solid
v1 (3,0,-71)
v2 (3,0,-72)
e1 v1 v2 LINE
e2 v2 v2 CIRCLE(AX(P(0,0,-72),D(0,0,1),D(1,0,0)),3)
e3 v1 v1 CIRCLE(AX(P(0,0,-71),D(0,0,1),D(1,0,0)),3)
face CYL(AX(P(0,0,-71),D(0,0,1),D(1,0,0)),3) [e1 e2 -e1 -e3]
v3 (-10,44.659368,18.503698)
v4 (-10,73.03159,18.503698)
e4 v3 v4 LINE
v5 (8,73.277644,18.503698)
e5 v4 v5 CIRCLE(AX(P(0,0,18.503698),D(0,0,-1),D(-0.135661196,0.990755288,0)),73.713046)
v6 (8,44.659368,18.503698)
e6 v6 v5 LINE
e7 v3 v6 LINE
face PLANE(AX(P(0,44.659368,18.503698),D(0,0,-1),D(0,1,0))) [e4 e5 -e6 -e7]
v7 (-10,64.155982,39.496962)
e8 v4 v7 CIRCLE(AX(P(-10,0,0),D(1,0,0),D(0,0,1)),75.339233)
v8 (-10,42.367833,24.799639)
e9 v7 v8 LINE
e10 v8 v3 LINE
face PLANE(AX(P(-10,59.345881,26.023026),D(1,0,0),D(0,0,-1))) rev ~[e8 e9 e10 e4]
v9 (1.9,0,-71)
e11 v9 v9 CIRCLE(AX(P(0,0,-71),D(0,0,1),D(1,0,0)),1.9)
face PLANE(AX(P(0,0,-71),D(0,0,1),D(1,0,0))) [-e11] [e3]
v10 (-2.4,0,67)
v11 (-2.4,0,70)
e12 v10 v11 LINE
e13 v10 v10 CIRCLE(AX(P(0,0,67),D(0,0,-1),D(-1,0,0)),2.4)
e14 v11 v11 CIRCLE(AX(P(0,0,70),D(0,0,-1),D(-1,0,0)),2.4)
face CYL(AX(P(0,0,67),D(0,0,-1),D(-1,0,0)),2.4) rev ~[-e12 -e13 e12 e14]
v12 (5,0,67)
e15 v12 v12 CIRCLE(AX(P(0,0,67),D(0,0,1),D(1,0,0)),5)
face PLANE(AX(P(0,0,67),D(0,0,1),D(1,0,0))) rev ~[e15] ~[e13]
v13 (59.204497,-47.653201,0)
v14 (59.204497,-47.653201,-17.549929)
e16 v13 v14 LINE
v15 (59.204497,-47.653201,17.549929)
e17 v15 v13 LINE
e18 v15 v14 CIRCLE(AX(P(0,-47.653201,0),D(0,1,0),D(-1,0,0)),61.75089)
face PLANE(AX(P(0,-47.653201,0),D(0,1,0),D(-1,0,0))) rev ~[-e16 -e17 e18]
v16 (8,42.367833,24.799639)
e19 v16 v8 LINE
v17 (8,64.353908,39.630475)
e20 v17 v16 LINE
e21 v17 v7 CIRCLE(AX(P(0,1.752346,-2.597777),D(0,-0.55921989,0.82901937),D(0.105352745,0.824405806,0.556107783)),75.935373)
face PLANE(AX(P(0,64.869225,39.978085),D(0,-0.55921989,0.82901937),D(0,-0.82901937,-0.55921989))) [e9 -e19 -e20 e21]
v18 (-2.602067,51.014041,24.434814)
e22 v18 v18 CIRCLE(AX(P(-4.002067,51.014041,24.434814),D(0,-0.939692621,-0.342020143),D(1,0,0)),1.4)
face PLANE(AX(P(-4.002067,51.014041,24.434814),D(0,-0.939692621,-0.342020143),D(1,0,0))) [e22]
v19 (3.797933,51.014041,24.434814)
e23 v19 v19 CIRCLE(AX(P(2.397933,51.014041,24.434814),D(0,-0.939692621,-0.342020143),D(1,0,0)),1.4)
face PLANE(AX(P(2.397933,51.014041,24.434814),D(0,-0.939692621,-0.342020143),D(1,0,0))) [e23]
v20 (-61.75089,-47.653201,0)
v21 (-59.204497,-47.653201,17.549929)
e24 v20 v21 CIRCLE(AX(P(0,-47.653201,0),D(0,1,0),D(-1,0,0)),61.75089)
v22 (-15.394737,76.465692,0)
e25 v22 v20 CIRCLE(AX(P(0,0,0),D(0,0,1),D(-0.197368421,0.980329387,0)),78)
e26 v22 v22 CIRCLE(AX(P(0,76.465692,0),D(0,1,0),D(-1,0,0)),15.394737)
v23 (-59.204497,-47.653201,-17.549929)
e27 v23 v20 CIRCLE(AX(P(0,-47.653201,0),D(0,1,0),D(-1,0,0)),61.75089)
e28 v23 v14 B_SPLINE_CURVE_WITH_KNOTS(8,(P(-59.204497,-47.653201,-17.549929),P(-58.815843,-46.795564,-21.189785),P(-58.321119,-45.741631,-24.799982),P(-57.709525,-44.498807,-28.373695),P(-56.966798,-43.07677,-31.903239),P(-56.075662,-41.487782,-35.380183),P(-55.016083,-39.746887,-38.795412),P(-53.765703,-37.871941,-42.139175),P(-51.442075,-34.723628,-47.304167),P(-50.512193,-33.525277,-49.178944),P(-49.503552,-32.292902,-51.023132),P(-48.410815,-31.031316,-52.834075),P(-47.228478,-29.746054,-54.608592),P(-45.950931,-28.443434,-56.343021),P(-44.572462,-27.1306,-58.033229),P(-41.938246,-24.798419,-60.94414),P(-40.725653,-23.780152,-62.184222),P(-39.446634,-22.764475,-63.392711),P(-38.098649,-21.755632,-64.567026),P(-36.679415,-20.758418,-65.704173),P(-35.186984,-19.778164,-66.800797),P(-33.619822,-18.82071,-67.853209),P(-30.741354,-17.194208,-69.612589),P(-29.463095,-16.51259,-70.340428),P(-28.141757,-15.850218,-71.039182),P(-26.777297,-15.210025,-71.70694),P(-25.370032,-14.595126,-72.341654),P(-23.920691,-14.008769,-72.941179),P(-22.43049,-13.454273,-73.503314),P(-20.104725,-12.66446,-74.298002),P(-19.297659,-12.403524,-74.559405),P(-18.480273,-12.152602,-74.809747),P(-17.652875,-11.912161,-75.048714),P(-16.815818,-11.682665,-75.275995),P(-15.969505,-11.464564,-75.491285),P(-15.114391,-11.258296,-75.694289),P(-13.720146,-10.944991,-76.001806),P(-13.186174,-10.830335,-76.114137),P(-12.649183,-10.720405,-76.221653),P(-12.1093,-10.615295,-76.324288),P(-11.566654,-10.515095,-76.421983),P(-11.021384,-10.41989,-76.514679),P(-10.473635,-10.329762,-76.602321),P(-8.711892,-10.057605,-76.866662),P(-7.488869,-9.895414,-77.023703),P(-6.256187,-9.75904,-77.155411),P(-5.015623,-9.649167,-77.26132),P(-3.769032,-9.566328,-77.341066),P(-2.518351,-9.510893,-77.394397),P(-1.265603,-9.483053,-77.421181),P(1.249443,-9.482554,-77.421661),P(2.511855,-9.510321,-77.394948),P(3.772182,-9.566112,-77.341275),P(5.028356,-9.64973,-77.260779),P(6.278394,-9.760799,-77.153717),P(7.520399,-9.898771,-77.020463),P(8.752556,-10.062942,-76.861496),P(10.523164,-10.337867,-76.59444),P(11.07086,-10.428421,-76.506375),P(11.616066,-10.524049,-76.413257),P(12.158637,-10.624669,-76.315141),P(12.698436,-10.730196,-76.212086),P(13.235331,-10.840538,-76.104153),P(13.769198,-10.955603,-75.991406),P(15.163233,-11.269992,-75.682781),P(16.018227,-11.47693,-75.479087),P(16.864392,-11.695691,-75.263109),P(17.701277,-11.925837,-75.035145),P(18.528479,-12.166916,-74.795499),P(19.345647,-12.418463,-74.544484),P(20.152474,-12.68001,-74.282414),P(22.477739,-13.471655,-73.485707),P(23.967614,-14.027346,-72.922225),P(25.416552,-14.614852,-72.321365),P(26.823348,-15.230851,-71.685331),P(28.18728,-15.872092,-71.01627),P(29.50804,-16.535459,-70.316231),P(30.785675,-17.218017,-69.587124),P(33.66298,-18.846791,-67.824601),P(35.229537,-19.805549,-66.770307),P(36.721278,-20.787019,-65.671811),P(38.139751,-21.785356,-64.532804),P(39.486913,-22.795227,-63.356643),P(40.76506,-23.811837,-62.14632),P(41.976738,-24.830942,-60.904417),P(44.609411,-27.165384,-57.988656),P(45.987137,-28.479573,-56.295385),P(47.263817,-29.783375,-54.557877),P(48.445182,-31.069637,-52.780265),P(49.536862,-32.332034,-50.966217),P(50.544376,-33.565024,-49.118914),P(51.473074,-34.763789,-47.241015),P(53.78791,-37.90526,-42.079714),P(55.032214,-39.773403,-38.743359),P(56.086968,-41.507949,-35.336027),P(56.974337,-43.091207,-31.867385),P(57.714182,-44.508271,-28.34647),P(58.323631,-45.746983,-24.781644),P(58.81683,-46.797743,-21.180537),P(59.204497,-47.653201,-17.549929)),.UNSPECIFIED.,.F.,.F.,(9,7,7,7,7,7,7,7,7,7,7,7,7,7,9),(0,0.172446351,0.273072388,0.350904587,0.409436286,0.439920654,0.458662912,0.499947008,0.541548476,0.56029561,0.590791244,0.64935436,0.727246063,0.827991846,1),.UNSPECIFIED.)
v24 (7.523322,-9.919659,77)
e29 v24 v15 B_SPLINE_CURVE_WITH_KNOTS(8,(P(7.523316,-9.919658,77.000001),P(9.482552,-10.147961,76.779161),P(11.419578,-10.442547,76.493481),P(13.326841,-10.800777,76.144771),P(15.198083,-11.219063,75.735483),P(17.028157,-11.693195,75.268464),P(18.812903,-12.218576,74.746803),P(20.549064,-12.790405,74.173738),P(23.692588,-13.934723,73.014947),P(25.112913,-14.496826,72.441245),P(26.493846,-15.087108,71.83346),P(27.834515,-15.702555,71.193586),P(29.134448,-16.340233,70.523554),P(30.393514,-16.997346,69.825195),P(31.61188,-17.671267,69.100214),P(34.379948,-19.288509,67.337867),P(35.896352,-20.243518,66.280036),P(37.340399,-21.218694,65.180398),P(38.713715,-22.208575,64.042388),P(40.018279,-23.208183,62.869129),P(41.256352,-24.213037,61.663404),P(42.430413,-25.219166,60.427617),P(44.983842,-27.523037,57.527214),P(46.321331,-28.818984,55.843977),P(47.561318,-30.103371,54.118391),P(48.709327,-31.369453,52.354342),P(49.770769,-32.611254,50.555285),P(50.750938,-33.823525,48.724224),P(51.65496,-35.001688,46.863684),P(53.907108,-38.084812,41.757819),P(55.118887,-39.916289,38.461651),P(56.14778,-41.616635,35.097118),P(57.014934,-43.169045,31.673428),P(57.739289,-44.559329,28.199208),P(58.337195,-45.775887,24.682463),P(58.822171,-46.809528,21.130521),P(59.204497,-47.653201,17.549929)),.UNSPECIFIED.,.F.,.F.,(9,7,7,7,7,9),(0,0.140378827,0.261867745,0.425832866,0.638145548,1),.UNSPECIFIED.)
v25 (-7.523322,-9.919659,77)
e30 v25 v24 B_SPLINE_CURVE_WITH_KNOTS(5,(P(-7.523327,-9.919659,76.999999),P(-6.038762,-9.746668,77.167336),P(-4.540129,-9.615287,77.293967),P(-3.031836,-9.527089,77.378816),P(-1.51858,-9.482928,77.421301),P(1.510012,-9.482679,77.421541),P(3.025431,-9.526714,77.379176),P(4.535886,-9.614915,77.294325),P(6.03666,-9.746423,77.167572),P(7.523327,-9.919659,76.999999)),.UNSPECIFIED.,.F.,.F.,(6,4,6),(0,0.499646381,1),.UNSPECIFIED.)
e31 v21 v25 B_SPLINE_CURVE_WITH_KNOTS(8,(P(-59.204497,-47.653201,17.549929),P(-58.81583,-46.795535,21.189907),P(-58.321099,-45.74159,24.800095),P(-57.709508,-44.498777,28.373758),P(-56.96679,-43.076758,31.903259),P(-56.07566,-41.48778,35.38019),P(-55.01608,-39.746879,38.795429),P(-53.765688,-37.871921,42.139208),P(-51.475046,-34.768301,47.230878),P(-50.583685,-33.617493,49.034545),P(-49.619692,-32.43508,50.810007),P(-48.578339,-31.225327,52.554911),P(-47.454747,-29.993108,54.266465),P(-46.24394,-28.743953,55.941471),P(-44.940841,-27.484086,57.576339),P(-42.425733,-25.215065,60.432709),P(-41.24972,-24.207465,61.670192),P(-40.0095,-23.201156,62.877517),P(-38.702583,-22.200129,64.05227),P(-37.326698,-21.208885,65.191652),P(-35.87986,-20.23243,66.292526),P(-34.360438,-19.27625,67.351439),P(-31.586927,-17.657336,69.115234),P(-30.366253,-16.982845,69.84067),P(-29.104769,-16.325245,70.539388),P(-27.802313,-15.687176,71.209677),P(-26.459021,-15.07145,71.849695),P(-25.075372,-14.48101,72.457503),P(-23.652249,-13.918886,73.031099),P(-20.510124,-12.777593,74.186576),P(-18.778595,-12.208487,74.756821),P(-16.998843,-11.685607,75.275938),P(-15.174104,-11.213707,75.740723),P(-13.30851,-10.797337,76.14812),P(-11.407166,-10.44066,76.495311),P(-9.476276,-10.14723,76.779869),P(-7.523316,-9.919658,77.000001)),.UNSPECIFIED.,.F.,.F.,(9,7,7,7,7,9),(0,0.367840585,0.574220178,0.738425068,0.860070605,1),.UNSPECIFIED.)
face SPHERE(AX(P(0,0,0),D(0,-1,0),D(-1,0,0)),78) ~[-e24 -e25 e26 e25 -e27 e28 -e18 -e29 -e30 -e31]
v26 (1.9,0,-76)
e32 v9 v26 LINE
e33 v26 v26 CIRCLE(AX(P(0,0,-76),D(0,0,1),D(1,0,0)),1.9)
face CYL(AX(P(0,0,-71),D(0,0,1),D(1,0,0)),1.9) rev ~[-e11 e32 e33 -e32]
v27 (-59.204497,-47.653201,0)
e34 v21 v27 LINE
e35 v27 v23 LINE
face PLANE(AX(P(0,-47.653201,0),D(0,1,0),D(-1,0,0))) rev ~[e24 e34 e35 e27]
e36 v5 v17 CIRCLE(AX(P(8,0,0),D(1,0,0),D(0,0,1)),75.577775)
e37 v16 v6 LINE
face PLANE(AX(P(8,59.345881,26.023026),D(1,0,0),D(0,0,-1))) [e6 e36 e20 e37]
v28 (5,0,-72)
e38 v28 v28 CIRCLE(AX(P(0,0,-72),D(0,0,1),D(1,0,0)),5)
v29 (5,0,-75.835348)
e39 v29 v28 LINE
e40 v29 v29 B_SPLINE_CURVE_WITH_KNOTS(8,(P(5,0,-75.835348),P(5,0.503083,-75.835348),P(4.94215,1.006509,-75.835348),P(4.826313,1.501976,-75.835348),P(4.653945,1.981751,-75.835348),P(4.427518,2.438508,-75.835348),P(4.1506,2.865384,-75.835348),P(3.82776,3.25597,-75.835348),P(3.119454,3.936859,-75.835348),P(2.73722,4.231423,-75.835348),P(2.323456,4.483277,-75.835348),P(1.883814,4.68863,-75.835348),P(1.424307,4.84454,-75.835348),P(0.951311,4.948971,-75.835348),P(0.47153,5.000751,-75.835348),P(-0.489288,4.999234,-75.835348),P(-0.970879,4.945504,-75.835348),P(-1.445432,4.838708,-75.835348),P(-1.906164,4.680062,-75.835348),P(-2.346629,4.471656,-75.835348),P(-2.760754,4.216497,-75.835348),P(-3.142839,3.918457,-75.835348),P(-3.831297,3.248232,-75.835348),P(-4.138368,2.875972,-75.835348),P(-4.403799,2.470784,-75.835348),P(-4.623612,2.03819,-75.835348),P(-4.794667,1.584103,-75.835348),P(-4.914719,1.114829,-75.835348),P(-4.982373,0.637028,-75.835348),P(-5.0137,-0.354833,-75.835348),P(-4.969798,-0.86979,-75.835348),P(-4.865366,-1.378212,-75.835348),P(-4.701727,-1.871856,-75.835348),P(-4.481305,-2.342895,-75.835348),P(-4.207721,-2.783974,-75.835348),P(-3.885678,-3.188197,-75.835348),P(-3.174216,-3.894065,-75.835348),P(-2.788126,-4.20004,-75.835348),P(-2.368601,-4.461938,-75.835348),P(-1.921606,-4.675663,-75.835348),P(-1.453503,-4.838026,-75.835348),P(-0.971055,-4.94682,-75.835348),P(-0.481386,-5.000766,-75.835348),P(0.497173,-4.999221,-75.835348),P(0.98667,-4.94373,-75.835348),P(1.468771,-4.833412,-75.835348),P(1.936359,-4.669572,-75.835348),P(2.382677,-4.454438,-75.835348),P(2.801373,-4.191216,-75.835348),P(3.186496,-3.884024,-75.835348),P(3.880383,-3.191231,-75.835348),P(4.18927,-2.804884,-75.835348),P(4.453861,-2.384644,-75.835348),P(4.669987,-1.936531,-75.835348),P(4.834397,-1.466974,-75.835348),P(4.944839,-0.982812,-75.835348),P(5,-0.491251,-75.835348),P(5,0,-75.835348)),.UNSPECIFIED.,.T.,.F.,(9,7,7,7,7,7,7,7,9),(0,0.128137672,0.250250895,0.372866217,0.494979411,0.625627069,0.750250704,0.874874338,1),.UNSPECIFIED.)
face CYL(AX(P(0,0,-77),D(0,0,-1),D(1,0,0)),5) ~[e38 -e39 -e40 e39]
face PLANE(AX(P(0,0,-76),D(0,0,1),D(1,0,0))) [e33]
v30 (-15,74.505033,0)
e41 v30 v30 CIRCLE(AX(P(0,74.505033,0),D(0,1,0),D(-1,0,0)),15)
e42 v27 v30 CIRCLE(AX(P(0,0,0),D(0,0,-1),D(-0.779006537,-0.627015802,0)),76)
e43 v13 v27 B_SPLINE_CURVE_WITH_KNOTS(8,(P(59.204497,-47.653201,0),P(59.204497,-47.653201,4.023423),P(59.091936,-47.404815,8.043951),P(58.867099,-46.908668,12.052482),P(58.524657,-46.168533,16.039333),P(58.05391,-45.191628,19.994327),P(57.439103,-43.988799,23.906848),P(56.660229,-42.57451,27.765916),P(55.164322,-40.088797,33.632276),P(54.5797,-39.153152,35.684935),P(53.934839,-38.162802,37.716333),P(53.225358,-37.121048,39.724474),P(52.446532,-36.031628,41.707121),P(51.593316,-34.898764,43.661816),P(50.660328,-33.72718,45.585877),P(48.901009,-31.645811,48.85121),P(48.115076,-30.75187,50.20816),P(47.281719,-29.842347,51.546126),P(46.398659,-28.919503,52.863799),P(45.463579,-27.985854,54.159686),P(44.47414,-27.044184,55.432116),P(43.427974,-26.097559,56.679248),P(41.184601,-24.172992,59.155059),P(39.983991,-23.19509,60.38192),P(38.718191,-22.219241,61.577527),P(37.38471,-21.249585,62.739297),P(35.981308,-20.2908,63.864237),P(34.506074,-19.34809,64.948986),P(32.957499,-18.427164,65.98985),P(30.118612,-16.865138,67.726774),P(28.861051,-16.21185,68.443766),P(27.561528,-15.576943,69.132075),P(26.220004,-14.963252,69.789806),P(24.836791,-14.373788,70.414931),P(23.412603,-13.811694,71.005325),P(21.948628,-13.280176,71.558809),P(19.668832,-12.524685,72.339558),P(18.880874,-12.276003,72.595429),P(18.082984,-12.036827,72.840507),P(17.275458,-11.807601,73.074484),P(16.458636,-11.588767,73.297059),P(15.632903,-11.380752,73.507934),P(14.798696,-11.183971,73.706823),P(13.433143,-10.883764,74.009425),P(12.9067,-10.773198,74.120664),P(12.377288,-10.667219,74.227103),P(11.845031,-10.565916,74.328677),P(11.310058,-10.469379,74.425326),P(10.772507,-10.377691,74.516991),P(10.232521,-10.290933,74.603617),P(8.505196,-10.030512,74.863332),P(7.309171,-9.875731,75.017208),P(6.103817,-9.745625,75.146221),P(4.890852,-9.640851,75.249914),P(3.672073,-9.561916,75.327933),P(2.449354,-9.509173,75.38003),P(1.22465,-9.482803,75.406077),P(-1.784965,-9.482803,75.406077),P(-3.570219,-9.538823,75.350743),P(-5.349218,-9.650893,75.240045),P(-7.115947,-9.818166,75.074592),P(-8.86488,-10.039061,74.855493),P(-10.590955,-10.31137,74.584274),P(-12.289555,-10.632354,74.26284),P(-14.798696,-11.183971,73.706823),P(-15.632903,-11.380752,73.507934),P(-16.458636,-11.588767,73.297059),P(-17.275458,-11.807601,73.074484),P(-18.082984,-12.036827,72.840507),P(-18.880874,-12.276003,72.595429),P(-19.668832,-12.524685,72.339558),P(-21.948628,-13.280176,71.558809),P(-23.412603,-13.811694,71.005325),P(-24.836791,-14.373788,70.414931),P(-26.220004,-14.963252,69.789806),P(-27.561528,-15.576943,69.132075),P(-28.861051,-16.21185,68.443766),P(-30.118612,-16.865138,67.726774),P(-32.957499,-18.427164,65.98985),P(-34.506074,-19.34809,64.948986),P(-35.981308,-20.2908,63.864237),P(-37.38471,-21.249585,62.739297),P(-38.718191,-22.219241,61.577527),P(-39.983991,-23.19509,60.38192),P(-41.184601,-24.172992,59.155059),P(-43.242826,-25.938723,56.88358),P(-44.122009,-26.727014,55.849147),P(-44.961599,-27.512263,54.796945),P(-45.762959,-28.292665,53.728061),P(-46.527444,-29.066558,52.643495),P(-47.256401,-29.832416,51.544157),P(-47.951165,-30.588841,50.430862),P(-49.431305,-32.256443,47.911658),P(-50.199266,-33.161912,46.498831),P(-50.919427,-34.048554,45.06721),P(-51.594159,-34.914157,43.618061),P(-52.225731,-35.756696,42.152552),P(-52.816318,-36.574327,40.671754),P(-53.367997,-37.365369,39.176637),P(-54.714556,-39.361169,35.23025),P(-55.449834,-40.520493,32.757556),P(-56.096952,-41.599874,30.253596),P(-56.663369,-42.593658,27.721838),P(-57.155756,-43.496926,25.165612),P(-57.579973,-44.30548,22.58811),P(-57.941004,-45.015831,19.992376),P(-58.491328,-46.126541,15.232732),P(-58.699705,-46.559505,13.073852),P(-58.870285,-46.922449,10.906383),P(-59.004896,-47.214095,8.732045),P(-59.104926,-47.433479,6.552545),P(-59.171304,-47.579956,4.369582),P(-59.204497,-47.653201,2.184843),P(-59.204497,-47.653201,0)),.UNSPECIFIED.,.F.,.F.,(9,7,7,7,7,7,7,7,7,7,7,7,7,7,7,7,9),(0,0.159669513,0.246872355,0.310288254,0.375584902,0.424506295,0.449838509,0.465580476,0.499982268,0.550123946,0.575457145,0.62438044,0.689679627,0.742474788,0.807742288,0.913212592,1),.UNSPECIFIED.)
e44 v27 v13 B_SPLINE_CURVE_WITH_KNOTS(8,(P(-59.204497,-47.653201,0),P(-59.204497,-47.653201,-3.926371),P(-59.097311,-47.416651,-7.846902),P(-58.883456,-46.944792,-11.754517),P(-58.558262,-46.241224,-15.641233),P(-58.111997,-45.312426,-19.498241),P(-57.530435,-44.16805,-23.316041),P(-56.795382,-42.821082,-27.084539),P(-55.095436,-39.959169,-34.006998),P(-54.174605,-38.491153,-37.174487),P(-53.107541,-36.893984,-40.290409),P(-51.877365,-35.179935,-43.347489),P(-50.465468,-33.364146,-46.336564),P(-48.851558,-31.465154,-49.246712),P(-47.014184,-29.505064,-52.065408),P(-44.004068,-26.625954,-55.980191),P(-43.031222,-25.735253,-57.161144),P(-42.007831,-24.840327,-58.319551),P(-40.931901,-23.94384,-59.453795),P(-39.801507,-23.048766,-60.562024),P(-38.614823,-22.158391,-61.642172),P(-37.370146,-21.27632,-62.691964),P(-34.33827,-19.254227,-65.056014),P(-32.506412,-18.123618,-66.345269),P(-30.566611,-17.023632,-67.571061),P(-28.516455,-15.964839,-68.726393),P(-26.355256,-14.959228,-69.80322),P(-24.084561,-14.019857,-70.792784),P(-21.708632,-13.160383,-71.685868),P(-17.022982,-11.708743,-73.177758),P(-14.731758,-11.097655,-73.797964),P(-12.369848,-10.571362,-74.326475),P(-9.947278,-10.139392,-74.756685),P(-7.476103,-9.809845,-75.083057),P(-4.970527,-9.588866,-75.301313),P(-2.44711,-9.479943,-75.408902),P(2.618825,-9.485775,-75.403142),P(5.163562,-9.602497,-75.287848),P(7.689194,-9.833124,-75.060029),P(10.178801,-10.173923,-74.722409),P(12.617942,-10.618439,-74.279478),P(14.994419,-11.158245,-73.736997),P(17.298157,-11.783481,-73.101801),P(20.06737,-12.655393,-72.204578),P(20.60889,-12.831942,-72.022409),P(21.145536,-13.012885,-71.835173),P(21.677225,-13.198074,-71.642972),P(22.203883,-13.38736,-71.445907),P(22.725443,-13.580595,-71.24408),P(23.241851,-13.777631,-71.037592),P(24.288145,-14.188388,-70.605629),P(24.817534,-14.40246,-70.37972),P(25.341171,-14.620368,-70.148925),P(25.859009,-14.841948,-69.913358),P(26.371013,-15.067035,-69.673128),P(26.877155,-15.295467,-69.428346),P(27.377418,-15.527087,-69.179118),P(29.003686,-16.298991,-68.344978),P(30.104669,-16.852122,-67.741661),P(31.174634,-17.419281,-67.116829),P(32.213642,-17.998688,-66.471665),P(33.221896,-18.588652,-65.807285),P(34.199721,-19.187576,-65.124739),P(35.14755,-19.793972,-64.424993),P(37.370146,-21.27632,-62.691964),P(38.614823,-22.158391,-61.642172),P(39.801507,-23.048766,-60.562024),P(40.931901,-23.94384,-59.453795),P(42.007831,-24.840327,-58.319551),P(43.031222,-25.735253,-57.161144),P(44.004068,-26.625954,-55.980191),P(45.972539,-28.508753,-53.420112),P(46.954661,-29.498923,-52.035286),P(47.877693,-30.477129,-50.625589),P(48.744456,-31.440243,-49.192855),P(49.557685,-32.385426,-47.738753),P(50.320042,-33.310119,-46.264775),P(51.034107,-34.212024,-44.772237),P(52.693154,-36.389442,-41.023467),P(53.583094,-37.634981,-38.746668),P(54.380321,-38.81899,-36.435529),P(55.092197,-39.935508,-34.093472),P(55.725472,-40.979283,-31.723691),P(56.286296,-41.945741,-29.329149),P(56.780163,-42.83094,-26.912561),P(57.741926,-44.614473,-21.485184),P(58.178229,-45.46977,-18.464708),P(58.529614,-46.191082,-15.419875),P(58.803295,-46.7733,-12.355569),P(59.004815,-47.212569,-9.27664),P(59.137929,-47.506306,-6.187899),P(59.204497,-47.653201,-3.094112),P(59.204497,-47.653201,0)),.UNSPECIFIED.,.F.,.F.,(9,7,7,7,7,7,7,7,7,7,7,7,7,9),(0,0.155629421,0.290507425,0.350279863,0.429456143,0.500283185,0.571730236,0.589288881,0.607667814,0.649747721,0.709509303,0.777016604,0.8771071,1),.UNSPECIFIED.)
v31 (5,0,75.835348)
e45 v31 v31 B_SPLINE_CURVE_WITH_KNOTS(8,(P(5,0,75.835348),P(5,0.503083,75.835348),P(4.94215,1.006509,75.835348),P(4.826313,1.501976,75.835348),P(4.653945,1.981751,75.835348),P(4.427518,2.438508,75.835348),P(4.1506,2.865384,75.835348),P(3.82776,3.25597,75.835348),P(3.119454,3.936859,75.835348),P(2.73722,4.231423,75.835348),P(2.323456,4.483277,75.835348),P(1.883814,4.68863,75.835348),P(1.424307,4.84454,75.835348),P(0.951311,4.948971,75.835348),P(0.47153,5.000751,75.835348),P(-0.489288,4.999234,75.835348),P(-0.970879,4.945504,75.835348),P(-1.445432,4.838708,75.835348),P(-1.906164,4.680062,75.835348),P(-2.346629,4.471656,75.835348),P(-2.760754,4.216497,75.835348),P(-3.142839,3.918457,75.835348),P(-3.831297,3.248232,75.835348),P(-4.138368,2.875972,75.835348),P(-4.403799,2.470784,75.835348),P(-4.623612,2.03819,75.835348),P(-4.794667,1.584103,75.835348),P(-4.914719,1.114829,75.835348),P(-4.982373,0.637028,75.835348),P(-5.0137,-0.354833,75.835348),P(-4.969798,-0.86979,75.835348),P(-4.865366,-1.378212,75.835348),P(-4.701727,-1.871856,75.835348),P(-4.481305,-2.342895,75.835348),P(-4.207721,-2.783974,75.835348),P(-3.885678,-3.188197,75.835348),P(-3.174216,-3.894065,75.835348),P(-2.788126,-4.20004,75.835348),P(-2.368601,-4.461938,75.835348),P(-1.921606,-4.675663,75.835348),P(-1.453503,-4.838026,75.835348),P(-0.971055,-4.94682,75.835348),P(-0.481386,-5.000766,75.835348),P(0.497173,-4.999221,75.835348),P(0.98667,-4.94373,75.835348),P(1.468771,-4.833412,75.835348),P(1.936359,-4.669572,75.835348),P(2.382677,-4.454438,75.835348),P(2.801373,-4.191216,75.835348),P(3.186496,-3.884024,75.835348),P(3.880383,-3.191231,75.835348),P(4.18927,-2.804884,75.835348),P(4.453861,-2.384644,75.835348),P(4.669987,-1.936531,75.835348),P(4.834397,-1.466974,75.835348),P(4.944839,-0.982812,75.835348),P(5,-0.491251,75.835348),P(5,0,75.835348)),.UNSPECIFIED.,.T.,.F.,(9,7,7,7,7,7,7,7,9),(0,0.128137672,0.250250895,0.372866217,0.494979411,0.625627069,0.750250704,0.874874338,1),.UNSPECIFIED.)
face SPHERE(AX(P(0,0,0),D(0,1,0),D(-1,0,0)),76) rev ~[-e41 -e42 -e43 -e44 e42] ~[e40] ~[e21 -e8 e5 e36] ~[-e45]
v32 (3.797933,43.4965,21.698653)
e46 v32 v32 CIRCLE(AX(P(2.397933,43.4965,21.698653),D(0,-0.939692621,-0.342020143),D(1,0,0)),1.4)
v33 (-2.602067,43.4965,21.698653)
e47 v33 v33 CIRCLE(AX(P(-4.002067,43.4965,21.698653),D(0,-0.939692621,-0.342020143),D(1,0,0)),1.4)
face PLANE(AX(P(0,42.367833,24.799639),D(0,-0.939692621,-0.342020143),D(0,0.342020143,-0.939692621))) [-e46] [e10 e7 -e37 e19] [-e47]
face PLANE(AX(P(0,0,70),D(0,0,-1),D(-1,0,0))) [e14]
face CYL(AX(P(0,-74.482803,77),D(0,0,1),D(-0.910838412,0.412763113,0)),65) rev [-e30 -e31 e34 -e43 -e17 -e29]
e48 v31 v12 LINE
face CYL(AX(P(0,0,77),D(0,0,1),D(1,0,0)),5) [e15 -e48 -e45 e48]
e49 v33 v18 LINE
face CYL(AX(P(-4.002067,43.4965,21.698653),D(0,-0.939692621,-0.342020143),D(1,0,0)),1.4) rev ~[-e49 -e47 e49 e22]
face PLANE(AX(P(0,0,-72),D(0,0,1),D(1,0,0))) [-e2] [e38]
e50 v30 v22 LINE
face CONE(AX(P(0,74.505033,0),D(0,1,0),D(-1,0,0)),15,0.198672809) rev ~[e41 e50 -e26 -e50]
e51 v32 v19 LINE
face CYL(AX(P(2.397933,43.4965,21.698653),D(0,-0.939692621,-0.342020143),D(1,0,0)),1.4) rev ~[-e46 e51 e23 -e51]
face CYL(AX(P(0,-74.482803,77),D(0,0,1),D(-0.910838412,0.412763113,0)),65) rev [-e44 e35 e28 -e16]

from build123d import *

# Parameters (mm, degrees)
SKETCH2_R                = 5
BOSS_EXTRUDE1_DEPTH      = 10
SKETCH5_R                = 2.4
CUT_EXTRUDE2_DEPTH       = 3
CUT_EXTRUDE5_DEPTH       = 2
CUT_EXTRUDE5_DEPTH_BACK  = 156
BOSS_EXTRUDE2_DEPTH      = 8
BOSS_EXTRUDE2_DEPTH_BACK = 10
SKETCH10_R               = 1.4
CUT_EXTRUDE6_DEPTH       = 8
SKETCH11_R               = 5
BOSS_EXTRUDE3_DEPTH      = 6
SKETCH12_R               = 5
SKETCH12_R_2             = 3
CUT_EXTRUDE8_DEPTH       = 1
SKETCH13_R               = 1.9
CUT_EXTRUDE9_DEPTH       = 5


with BuildPart() as part:
    # Sketch1 → Revolve1 (revolve)
    with BuildSketch(Plane.XY):
        with BuildLine():
            Line((-61.750890187, -47.653200953), (-59.204496779, -47.653200953))
            ThreePointArc((-59.204496779, -47.653200953), (-71.464924193, 25.860483564), (-15, 74.505033387))
            Line((-15, 74.505033387), (-15.394736842, 76.46569216))
            ThreePointArc((-15.394736842, 76.46569216), (-73.070081767, 27.290349038), (-61.750890187, -47.653200953))
        make_face()
    revolve(axis=Axis((0, 0, 0), (0, 1, 0)))

    # Sketch2 → Boss-Extrude1 (add)
    with BuildSketch(Plane.XY.offset(77)):
        Circle(SKETCH2_R)
    extrude(amount=-BOSS_EXTRUDE1_DEPTH)

    # Sketch5 → Cut-Extrude2 (cut)
    with BuildSketch(Plane(origin=(0, 0, 67), x_dir=(-1, 0, 0), z_dir=(0, 0, -1))):
        Circle(SKETCH5_R)
    extrude(amount=-CUT_EXTRUDE2_DEPTH, mode=Mode.SUBTRACT)

    # Sketch8 → Cut-Extrude5 (cut, two sides)
    with BuildSketch(Plane.XY.offset(77)) as cut_extrude5_sk:
        with BuildLine():
            Line((59.204496779, -47.653200953), (-59.204496779, -47.653200953))
            ThreePointArc((-59.204496779, -47.653200953), (0, -9.482803282), (59.204496779, -47.653200953))
        make_face()
    extrude(amount=CUT_EXTRUDE5_DEPTH, mode=Mode.SUBTRACT)
    extrude(cut_extrude5_sk.sketch, amount=-CUT_EXTRUDE5_DEPTH_BACK, mode=Mode.SUBTRACT)

    # Sketch9 → Boss-Extrude2 (add, two sides)
    with BuildSketch(Plane(origin=(0, 0, 0), x_dir=(0, 0, -1), z_dir=(1, 0, 0))) as boss_extrude2_sk:
        Polygon((-24.799638763, 42.367833372), (-18.503698204, 44.659368332), (-18.503698204, 74.505033387), (-27.09103143, 71.379499701), (-35.489739706, 67.690470627), (-39.978084848, 64.869225109), align=None)
    extrude(amount=BOSS_EXTRUDE2_DEPTH)
    extrude(boss_extrude2_sk.sketch, amount=-BOSS_EXTRUDE2_DEPTH_BACK)

    # Sketch10 → Cut-Extrude6 (cut)
    with BuildSketch(Plane(origin=(0, 45.382188608, 16.517765819), x_dir=(1, 0, 0), z_dir=(0, -0.939692621, -0.342020143))):
        with Locations((-4.00206731, 5.513385102)):
            Circle(SKETCH10_R)
        with Locations((2.39793269, 5.513385102)):
            Circle(SKETCH10_R)
    extrude(amount=-CUT_EXTRUDE6_DEPTH, mode=Mode.SUBTRACT)

    # Sketch11 → Boss-Extrude3 (add)
    with BuildSketch(Plane.XY.offset(-77)):
        Circle(SKETCH11_R)
    extrude(amount=BOSS_EXTRUDE3_DEPTH)

    # Sketch12 → Cut-Extrude8 (cut)
    with BuildSketch(Plane.XY.offset(-71)):
        Circle(SKETCH12_R)
        Circle(SKETCH12_R_2, mode=Mode.SUBTRACT)
    extrude(amount=-CUT_EXTRUDE8_DEPTH, mode=Mode.SUBTRACT)

    # Sketch13 → Cut-Extrude9 (cut)
    with BuildSketch(Plane.XY.offset(-71)):
        Circle(SKETCH13_R)
    extrude(amount=-CUT_EXTRUDE9_DEPTH, mode=Mode.SUBTRACT)


solid = part.part
